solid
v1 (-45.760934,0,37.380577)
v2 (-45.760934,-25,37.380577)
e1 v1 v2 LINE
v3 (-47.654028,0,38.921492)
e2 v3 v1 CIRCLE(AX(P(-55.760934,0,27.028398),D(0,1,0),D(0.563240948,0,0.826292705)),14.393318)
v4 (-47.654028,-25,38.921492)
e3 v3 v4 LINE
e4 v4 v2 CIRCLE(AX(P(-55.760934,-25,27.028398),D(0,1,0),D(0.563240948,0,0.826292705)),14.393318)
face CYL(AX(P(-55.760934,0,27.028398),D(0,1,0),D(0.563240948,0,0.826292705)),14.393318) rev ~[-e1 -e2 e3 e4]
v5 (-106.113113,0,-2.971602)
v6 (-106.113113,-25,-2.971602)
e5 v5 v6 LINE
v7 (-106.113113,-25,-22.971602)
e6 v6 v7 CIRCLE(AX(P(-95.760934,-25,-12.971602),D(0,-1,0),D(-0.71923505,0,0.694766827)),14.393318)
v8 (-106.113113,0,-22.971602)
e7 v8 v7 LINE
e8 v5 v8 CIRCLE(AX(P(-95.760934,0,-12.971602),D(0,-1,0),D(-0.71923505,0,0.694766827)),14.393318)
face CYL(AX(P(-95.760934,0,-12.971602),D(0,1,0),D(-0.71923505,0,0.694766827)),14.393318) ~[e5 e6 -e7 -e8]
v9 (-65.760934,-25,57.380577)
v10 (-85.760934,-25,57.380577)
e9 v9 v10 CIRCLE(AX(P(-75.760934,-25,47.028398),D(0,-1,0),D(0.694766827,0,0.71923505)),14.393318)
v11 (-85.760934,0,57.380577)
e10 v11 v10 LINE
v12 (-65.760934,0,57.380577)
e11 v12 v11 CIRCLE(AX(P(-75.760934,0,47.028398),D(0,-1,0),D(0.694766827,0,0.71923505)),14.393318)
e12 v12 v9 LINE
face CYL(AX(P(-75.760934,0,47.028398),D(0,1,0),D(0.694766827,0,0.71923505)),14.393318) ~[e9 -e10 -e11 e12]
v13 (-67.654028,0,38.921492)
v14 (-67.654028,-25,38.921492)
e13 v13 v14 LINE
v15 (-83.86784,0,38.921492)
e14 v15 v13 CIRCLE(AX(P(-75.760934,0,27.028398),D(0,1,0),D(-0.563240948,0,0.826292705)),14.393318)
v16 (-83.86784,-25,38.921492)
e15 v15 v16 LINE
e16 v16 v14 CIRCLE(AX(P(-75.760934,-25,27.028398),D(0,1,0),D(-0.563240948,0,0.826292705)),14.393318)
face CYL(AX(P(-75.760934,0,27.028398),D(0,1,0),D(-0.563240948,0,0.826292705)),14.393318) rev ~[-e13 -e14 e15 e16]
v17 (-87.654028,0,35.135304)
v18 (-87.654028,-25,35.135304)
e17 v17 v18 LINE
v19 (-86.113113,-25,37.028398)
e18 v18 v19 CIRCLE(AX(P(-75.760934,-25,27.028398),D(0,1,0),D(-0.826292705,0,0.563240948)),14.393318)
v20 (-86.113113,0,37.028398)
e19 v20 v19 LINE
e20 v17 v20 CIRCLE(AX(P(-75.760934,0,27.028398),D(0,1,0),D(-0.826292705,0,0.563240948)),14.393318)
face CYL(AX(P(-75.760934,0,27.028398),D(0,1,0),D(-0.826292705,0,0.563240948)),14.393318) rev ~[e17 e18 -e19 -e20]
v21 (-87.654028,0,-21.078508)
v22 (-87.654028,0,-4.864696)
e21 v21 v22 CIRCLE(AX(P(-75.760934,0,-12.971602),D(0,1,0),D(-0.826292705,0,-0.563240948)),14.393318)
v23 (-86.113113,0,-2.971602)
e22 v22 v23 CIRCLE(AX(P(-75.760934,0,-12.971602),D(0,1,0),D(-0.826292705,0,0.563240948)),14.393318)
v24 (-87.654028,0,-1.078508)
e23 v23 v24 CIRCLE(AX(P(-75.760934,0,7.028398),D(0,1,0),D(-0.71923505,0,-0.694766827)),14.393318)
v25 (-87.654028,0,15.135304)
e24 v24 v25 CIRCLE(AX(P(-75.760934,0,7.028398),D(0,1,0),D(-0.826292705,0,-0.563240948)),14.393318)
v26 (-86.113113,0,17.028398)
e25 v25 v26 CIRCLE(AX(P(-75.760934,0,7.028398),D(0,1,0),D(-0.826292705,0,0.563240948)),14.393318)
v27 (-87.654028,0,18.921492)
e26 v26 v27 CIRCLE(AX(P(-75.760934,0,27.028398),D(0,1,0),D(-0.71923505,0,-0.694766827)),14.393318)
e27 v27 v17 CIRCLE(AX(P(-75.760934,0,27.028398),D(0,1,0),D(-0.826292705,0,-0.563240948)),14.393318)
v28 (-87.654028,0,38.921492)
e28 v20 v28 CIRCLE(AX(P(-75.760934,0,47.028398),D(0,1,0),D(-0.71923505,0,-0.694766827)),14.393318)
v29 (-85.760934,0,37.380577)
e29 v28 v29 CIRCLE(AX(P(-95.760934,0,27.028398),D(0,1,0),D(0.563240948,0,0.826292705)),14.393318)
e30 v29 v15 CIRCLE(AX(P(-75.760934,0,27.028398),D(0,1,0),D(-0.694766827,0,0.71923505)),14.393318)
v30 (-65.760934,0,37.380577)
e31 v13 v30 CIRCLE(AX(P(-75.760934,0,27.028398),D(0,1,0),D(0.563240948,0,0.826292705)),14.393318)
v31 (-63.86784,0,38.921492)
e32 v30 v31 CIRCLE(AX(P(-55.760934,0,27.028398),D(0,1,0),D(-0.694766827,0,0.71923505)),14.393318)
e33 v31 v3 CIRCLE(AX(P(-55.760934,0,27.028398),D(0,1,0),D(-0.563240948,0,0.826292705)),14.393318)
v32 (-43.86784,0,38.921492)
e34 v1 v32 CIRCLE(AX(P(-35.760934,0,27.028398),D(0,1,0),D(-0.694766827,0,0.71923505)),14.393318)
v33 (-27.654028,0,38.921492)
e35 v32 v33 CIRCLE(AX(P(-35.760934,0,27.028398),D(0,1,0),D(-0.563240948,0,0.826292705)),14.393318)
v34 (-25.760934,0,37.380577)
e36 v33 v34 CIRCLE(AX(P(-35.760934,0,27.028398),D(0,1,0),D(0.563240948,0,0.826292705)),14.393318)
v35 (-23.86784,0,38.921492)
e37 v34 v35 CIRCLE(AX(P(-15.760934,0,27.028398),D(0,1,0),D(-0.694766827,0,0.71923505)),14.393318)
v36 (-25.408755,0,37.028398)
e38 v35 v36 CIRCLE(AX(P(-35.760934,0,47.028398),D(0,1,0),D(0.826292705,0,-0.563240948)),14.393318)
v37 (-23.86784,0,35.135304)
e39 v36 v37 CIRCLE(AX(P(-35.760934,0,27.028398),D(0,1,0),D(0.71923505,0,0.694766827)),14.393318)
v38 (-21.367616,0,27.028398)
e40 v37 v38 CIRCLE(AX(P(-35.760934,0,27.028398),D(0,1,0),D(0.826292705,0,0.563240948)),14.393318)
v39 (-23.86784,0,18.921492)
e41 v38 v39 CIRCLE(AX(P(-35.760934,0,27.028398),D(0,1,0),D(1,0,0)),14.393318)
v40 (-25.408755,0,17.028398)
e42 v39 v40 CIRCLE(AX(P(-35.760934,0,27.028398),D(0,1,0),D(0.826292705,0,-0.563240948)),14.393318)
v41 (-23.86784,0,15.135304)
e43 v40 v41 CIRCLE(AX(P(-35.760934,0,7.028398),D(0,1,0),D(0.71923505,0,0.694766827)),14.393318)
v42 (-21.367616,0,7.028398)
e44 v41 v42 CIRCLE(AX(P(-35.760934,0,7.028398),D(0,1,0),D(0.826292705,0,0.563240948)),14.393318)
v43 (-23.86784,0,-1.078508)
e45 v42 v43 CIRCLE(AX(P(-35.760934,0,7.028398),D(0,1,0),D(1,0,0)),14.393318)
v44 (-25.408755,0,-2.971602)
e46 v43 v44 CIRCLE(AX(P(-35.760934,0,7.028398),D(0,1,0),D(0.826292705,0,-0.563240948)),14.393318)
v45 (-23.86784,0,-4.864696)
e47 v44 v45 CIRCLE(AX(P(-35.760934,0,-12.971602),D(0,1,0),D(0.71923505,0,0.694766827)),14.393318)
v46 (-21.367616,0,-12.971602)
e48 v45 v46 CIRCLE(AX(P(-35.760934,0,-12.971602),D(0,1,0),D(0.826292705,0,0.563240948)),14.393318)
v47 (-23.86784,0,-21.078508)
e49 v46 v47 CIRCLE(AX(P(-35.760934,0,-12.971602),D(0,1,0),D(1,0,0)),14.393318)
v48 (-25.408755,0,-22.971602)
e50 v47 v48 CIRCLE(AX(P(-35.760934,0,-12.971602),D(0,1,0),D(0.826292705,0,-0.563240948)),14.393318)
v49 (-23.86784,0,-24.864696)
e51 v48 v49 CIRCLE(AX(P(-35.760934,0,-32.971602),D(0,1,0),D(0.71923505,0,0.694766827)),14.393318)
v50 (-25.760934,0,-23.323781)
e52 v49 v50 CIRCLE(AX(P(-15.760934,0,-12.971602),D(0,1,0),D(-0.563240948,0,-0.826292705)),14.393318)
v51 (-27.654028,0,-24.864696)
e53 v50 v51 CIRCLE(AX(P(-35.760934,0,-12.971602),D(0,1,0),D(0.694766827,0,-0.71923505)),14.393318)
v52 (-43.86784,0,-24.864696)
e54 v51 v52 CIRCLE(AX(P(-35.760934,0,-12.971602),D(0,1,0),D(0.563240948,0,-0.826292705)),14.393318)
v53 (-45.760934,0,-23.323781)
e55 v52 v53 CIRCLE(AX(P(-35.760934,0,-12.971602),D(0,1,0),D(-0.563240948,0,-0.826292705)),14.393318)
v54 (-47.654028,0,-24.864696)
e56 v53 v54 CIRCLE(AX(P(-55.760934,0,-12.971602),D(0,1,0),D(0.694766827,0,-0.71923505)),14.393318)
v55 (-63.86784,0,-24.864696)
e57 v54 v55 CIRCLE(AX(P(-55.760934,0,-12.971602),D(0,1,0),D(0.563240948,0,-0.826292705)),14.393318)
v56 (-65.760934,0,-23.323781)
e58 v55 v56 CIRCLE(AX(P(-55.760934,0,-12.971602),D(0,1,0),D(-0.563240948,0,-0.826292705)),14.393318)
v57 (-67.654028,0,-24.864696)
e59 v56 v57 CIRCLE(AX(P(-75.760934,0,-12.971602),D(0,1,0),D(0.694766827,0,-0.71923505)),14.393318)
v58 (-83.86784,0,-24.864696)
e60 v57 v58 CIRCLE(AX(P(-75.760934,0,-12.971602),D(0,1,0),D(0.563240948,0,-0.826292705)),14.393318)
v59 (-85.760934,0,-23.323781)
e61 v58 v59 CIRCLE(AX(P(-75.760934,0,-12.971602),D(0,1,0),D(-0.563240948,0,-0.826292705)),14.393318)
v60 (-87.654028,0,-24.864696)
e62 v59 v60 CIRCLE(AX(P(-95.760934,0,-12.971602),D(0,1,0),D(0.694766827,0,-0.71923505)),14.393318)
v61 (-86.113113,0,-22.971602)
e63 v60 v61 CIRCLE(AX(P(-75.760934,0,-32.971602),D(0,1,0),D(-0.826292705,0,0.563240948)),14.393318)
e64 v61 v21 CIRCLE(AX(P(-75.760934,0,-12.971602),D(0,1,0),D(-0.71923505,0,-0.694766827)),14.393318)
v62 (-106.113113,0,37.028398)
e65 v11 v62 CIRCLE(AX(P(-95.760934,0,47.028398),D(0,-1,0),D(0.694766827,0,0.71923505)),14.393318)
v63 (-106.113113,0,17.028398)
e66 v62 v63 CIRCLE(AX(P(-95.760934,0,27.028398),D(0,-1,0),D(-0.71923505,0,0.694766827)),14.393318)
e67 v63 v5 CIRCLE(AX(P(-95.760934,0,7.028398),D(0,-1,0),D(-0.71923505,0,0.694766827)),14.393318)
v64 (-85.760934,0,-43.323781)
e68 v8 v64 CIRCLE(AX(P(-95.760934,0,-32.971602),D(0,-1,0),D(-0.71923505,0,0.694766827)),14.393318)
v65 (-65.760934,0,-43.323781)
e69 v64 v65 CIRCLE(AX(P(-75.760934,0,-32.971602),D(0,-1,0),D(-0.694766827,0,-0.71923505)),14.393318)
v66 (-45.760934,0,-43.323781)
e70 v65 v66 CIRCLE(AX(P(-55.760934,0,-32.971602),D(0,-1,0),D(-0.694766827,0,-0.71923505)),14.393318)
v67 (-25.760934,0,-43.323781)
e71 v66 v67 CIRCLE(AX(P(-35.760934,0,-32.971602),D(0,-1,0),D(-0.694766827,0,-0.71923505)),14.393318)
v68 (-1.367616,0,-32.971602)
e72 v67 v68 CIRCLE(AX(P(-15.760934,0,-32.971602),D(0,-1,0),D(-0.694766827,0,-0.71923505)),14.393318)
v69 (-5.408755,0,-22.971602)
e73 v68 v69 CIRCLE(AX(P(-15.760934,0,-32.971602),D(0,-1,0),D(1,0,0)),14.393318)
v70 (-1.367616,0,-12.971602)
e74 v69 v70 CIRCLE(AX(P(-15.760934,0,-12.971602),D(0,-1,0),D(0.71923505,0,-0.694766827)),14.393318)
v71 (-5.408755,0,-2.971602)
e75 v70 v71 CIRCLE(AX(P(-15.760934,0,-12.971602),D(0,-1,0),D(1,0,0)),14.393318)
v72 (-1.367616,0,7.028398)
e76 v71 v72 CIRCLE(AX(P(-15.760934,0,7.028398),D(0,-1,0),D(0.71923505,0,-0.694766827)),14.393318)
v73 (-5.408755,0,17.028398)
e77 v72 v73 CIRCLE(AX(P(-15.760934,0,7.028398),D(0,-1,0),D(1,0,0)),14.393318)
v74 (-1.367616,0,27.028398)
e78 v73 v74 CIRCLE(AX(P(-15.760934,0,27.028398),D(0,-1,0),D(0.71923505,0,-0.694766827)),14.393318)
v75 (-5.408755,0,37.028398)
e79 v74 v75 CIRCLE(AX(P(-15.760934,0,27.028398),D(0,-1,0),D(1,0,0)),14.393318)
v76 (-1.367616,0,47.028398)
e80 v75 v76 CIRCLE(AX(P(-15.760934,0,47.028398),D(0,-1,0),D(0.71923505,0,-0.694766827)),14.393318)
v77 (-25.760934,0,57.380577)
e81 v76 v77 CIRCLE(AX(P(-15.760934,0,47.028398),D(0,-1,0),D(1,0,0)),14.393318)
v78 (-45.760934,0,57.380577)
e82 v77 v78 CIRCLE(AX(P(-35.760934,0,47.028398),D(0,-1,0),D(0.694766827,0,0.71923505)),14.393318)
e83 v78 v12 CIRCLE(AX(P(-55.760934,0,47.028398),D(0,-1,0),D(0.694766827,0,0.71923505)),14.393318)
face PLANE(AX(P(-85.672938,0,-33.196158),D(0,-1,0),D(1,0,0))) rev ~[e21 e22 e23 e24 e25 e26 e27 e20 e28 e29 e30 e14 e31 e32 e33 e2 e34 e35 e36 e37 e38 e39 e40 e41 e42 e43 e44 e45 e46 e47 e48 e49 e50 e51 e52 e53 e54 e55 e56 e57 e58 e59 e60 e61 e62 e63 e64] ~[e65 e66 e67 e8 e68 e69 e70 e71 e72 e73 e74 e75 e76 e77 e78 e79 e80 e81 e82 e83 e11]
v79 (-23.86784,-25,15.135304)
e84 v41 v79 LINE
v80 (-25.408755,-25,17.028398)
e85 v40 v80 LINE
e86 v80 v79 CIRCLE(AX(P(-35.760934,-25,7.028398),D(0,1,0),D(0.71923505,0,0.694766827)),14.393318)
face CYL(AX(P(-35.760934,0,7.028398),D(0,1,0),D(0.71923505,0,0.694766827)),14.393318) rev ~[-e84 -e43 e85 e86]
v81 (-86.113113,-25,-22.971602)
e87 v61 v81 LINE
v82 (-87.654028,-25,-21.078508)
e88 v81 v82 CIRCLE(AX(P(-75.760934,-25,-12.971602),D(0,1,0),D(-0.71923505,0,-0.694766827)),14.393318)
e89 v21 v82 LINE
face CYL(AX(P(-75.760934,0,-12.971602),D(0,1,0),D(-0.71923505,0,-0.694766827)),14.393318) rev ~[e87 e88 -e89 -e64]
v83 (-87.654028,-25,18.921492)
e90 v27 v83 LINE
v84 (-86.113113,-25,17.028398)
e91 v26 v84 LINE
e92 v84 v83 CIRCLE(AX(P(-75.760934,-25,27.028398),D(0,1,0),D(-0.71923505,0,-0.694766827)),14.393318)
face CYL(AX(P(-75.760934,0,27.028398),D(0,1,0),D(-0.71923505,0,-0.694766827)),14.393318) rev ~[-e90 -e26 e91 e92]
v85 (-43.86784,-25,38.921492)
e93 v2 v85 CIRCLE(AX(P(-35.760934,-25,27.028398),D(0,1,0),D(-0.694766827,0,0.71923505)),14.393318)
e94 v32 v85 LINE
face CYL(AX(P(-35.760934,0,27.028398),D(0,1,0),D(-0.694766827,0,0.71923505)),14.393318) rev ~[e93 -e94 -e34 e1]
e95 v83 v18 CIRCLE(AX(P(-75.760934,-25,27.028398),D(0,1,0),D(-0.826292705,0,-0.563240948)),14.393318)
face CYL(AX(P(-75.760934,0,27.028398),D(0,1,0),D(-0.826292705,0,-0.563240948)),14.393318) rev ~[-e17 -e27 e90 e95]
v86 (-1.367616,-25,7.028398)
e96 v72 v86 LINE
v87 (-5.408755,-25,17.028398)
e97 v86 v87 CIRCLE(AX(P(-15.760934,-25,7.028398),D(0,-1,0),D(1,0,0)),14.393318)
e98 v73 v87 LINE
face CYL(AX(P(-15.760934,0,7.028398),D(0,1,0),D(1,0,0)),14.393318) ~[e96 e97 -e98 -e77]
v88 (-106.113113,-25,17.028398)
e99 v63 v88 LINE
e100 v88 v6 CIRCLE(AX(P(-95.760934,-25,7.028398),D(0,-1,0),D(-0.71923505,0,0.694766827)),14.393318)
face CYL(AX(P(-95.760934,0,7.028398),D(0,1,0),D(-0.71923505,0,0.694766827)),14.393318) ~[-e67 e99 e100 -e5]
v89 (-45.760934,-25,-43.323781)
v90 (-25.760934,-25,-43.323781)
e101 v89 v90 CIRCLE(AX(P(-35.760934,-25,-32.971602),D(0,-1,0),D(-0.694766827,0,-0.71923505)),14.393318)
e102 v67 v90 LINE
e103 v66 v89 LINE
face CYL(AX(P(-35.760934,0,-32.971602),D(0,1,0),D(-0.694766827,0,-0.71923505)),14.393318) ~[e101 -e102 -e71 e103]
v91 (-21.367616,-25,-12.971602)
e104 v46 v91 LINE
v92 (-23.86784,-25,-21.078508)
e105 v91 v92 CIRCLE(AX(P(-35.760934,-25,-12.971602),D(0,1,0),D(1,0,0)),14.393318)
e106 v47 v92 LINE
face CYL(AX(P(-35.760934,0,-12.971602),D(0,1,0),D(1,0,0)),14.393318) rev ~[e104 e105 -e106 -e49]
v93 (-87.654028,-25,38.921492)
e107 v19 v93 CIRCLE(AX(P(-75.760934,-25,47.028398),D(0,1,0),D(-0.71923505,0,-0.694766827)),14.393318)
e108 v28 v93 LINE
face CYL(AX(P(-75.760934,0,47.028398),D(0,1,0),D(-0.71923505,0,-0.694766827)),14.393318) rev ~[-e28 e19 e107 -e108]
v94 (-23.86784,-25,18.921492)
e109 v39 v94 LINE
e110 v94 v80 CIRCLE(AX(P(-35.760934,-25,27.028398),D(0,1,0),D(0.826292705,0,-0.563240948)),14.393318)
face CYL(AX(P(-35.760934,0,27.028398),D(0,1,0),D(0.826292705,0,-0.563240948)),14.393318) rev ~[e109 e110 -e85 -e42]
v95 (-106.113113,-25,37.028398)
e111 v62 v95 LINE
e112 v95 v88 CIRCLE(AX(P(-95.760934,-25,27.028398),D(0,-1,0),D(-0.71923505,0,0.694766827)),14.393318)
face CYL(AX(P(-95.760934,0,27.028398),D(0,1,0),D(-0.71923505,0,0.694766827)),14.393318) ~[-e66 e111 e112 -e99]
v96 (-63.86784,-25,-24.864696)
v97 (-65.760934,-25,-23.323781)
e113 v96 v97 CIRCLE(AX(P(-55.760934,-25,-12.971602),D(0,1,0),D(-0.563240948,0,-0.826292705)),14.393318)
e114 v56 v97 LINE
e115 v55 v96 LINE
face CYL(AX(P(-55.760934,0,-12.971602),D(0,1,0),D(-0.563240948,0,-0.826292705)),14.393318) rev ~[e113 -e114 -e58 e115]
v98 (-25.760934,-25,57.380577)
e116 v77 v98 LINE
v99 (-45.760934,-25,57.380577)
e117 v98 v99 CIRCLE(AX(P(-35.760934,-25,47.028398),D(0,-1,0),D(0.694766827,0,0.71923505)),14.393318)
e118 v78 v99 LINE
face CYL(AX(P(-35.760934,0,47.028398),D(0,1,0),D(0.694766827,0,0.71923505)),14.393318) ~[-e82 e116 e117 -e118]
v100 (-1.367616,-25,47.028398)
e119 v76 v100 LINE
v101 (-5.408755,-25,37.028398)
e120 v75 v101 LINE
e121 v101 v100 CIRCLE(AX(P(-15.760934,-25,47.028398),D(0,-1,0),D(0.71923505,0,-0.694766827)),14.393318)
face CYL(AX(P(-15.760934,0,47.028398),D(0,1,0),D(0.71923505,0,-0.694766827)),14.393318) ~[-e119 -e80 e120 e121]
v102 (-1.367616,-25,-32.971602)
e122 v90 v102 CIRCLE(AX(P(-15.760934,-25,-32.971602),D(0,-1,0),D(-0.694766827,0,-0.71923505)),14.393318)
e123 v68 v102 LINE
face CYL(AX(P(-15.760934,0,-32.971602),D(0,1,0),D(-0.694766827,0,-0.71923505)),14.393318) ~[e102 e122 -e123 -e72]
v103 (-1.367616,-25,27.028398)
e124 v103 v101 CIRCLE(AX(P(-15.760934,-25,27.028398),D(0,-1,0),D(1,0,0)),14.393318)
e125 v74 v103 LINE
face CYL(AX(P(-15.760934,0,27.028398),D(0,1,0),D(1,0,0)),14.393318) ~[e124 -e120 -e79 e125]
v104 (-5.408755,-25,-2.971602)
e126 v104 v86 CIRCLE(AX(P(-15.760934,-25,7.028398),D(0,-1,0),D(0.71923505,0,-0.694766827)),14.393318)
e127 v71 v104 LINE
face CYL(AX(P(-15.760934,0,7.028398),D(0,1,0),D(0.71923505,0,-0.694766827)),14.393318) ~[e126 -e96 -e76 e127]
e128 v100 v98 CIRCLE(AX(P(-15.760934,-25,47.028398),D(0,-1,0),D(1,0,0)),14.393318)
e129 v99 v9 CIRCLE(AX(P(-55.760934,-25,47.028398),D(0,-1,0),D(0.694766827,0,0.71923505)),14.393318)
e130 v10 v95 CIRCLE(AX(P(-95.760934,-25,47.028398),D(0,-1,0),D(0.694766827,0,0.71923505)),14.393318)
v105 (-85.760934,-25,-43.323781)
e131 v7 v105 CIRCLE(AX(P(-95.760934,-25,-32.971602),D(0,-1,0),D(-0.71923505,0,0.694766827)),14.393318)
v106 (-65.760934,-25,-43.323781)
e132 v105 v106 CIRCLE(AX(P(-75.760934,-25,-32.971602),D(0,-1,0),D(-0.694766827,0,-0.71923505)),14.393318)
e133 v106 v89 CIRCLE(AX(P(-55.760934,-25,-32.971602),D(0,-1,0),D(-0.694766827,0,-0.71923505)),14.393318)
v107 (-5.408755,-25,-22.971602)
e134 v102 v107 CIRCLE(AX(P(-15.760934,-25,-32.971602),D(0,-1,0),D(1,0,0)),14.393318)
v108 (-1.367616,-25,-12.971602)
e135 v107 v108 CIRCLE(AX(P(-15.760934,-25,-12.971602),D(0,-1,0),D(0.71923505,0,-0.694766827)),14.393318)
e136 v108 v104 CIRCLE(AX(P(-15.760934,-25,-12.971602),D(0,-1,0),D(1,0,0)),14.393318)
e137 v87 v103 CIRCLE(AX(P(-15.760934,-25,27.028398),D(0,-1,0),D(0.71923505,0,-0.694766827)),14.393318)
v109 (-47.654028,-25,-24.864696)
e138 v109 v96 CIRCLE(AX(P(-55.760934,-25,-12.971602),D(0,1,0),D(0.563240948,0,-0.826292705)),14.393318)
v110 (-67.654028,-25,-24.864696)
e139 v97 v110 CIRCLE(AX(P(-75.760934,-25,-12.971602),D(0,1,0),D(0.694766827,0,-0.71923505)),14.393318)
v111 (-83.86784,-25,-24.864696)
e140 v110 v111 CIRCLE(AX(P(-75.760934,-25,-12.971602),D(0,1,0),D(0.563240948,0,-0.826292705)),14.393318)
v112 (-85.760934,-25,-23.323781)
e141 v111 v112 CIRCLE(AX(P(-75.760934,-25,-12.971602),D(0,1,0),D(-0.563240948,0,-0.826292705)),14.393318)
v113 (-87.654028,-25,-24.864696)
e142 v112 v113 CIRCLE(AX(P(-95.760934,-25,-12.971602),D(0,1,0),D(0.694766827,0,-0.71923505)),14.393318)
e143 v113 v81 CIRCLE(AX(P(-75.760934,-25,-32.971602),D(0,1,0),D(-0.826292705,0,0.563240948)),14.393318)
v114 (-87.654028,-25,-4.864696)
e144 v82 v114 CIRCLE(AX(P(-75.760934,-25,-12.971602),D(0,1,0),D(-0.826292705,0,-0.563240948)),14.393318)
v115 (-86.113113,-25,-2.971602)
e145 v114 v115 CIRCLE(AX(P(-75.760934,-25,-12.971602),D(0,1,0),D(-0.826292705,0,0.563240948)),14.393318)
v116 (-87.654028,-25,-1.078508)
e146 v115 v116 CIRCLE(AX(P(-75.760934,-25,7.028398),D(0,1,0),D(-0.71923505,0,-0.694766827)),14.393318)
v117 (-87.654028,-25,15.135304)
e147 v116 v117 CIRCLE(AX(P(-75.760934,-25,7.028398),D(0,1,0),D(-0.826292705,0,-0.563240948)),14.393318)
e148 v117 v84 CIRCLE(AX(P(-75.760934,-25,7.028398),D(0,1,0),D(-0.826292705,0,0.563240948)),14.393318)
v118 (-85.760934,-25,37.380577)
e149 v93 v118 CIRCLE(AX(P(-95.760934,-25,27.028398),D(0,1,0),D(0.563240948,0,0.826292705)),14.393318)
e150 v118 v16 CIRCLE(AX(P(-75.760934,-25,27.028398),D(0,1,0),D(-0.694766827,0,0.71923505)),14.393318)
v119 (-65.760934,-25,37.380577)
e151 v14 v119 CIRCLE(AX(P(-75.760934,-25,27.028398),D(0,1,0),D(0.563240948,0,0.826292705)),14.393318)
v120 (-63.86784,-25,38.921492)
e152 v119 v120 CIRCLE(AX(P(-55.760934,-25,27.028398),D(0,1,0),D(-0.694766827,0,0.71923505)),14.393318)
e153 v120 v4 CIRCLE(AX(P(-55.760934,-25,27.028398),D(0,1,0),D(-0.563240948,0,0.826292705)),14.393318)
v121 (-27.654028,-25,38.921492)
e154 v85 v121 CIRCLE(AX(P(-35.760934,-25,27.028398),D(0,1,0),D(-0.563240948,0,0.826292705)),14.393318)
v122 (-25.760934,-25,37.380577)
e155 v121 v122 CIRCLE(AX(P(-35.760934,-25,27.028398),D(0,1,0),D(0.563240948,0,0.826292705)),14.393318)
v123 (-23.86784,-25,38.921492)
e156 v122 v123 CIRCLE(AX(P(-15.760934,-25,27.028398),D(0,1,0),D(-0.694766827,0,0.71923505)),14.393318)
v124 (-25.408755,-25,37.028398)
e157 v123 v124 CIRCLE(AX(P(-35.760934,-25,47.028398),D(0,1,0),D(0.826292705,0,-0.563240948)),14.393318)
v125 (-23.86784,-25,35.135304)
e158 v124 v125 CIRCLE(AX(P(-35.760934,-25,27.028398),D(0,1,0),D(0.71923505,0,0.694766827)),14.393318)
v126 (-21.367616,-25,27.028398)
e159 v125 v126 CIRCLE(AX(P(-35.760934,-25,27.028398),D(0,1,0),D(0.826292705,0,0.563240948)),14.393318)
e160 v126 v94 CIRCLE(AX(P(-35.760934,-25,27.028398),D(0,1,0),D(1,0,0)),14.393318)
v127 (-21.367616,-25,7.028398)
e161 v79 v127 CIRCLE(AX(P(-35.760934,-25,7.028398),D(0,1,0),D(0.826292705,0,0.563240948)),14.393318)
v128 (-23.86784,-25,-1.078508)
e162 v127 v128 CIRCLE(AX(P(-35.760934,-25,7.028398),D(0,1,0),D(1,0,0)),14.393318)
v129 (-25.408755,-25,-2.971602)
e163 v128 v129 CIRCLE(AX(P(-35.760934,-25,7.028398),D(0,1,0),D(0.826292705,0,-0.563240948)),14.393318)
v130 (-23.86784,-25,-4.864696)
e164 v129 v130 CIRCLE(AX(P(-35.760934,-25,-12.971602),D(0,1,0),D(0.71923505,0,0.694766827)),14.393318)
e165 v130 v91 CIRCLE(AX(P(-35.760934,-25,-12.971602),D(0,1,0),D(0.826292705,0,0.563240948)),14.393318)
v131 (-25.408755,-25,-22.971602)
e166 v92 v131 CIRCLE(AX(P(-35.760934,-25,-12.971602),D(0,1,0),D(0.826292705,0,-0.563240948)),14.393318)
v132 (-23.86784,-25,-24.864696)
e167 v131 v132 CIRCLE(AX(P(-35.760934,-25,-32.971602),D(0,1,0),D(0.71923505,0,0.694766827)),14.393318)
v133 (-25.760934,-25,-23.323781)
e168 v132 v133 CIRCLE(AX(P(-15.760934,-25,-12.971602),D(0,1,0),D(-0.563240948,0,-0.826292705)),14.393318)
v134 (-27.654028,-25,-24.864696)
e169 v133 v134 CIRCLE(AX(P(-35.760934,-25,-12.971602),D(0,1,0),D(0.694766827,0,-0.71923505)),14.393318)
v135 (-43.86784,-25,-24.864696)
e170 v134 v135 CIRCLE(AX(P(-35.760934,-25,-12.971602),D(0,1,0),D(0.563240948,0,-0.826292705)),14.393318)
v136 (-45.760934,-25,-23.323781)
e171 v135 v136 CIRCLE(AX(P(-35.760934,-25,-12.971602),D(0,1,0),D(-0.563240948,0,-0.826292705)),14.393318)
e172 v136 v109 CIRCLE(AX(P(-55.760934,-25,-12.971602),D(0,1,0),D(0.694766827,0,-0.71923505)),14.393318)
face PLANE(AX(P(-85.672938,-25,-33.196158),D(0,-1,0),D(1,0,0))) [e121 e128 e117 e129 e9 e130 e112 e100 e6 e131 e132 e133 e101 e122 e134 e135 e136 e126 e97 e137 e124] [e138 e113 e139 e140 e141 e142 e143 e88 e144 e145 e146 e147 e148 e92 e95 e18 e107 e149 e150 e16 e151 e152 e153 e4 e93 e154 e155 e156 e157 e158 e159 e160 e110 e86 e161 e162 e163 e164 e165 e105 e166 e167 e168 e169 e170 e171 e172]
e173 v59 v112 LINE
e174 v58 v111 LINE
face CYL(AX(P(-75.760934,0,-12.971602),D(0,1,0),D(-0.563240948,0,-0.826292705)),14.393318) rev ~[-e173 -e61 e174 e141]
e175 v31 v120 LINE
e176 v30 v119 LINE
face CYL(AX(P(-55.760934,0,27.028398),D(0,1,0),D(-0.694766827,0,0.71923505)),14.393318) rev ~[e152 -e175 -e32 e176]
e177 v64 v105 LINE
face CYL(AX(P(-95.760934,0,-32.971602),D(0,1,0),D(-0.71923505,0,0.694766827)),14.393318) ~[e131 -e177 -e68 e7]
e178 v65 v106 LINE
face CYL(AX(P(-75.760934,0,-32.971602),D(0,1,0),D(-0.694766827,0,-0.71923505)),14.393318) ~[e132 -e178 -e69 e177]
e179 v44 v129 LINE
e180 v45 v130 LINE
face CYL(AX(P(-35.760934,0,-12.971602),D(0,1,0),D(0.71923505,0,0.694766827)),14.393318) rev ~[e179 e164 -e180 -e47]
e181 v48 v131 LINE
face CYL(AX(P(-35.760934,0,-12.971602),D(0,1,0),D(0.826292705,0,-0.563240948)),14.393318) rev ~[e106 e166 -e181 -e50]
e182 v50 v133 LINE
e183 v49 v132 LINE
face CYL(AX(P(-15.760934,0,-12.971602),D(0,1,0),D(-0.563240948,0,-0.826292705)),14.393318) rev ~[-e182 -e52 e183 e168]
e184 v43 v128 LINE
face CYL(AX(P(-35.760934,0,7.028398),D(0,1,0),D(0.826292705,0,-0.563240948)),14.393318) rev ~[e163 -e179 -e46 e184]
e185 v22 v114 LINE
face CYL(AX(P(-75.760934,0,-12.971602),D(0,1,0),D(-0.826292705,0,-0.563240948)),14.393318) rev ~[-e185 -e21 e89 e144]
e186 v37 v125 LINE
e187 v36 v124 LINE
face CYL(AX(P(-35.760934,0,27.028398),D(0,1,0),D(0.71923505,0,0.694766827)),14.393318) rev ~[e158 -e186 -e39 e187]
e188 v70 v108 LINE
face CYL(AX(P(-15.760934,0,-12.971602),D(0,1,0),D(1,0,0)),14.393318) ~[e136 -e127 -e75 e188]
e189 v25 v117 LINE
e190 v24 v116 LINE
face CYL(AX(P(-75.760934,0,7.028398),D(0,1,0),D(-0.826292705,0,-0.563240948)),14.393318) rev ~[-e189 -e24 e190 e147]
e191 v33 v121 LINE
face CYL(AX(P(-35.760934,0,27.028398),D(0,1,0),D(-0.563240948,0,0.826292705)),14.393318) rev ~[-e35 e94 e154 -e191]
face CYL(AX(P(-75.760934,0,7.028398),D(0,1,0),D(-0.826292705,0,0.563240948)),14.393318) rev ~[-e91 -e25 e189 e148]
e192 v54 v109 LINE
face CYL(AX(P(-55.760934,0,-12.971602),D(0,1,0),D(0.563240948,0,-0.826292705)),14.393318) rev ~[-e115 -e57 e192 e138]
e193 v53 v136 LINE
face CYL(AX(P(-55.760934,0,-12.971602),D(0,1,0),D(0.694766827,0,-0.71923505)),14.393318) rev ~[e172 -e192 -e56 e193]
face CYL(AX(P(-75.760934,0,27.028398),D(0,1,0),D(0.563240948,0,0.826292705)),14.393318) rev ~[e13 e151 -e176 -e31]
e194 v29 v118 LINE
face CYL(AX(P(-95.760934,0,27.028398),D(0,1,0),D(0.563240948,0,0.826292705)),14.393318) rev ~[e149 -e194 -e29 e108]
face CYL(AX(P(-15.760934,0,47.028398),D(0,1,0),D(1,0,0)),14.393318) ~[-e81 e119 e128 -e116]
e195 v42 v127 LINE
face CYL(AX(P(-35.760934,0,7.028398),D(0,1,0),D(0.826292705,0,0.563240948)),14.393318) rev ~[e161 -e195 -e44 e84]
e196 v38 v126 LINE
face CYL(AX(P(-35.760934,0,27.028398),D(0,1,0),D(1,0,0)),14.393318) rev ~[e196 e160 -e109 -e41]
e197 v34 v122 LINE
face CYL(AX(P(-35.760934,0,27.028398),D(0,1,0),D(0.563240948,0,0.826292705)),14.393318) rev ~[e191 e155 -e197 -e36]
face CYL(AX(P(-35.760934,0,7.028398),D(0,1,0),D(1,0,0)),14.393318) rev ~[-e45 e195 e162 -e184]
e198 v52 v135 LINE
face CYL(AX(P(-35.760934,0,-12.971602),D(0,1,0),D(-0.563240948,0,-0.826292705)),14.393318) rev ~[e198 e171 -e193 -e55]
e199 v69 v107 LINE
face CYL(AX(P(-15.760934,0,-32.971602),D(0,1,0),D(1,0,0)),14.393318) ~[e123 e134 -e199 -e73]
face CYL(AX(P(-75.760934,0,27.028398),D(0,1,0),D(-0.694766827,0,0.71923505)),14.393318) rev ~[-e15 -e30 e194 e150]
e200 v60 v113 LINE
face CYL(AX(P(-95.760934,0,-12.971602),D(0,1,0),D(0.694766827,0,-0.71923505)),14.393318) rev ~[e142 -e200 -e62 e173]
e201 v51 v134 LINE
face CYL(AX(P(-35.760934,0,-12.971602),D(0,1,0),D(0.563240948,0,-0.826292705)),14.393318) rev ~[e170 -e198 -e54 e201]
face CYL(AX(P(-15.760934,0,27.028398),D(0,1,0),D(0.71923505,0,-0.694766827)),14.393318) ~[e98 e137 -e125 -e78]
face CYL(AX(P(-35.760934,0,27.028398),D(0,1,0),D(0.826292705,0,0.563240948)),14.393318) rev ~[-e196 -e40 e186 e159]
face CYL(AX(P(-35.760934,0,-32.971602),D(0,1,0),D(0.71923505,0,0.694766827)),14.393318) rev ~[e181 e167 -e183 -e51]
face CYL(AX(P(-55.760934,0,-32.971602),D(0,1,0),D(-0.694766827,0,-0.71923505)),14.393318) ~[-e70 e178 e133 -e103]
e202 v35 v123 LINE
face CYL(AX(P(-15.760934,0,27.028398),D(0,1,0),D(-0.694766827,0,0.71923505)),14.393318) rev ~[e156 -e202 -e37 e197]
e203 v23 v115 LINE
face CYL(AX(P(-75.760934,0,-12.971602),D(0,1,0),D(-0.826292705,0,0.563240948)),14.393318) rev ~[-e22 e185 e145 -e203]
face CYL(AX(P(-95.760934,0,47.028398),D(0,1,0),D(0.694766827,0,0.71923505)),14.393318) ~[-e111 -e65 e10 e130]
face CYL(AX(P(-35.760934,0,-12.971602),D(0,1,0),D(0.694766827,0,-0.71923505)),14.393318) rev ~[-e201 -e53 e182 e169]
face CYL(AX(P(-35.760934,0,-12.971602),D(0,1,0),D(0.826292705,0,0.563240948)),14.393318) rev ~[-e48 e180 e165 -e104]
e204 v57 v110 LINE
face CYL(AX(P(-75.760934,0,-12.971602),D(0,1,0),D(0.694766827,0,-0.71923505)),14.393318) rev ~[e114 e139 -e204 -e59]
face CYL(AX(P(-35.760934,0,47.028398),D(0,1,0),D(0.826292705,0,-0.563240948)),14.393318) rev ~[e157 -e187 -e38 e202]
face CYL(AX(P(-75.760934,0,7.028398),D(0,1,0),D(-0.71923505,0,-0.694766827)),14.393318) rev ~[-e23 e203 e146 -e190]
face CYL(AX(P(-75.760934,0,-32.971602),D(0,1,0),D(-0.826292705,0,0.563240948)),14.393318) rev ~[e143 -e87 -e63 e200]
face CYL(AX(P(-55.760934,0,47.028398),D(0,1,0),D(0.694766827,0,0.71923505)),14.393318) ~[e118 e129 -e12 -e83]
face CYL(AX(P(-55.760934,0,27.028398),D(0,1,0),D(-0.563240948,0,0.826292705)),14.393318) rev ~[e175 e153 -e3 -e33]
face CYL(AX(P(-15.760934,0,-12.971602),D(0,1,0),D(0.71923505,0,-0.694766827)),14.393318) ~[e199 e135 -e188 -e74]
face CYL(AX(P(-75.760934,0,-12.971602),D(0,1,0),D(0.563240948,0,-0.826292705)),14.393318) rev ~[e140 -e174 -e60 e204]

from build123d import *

# Parameters (mm, degrees)
F1_DEPTH = 25


with BuildPart() as f1:
    # F0 (on Front) → F1 (new body)
    with BuildSketch(Plane.XZ):
        with BuildLine():
            ThreePointArc((-85.7609340549, -43.3237808544), (-82.5113908499, -38.594520506), (-81.3676158684, -32.9716019332))
            ThreePointArc((-81.3676158684, -32.9716019332), (-82.0068675294, -28.7297553509), (-83.8678402358, -24.8646957523))
            ThreePointArc((-83.8678402358, -24.8646957523), (-84.8471113337, -24.1344416649), (-85.7609340549, -23.3237808544))
            ThreePointArc((-85.7609340549, -23.3237808544), (-86.674756776, -24.1344416649), (-87.6540278739, -24.8646957523))
            ThreePointArc((-87.6540278739, -24.8646957523), (-90.0791512953, -34.4400240359), (-85.7609340549, -43.3237808544))
        make_face()
        with BuildLine():
            ThreePointArc((-83.8678402358, -24.8646957523), (-82.0068675294, -28.7297553509), (-81.3676158684, -32.9716019332))
            ThreePointArc((-81.3676158684, -32.9716019332), (-82.5113908499, -38.594520506), (-85.7609340549, -43.3237808544))
            ThreePointArc((-85.7609340549, -43.3237808544), (-75.7609340549, -47.3649201197), (-65.7609340549, -43.3237808544))
            ThreePointArc((-65.7609340549, -43.3237808544), (-70.0791512953, -34.4400240359), (-67.6540278739, -24.8646957523))
            ThreePointArc((-67.6540278739, -24.8646957523), (-75.7609340549, -27.3649201197), (-83.8678402358, -24.8646957523))
        make_face()
        with BuildLine():
            ThreePointArc((-106.113112976, -22.9716019332), (-105.9385469482, -43.1492148266), (-85.7609340549, -43.3237808544))
            ThreePointArc((-85.7609340549, -43.3237808544), (-90.0791512953, -34.4400240359), (-87.6540278739, -24.8646957523))
            ThreePointArc((-87.6540278739, -24.8646957523), (-97.2293561575, -27.2898191737), (-106.113112976, -22.9716019332))
        make_face()
        with BuildLine():
            ThreePointArc((-65.7609340549, -23.3237808544), (-66.674756776, -24.1344416649), (-67.6540278739, -24.8646957523))
            ThreePointArc((-67.6540278739, -24.8646957523), (-70.0791512953, -34.4400240359), (-65.7609340549, -43.3237808544))
            ThreePointArc((-65.7609340549, -43.3237808544), (-62.5113908499, -38.594520506), (-61.3676158684, -32.9716019332))
            ThreePointArc((-61.3676158684, -32.9716019332), (-62.0068675294, -28.7297553509), (-63.8678402358, -24.8646957523))
            ThreePointArc((-63.8678402358, -24.8646957523), (-64.8471113337, -24.1344416649), (-65.7609340549, -23.3237808544))
        make_face()
        with BuildLine():
            ThreePointArc((-106.113112976, -2.9716019332), (-110.1542522413, -12.9716019332), (-106.113112976, -22.9716019332))
            ThreePointArc((-106.113112976, -22.9716019332), (-97.2293561575, -18.6533846928), (-87.6540278739, -21.0785081142))
            ThreePointArc((-87.6540278739, -21.0785081142), (-90.1542522413, -12.9716019332), (-87.6540278739, -4.8646957523))
            ThreePointArc((-87.6540278739, -4.8646957523), (-97.2293561575, -7.2898191737), (-106.113112976, -2.9716019332))
        make_face()
        with BuildLine():
            ThreePointArc((-87.6540278739, -21.0785081142), (-97.2293561575, -18.6533846928), (-106.113112976, -22.9716019332))
            ThreePointArc((-106.113112976, -22.9716019332), (-97.2293561575, -27.2898191737), (-87.6540278739, -24.8646957523))
            ThreePointArc((-87.6540278739, -24.8646957523), (-86.9237737865, -23.8854246544), (-86.113112976, -22.9716019332))
            ThreePointArc((-86.113112976, -22.9716019332), (-86.9237737865, -22.057779212), (-87.6540278739, -21.0785081142))
        make_face()
        with BuildLine():
            ThreePointArc((-61.3676158684, -32.9716019332), (-62.5113908499, -38.594520506), (-65.7609340549, -43.3237808544))
            ThreePointArc((-65.7609340549, -43.3237808544), (-55.7609340549, -47.3649201197), (-45.7609340549, -43.3237808544))
            ThreePointArc((-45.7609340549, -43.3237808544), (-50.0791512953, -34.4400240359), (-47.6540278739, -24.8646957523))
            ThreePointArc((-47.6540278739, -24.8646957523), (-55.7609340549, -27.3649201197), (-63.8678402358, -24.8646957523))
            ThreePointArc((-63.8678402358, -24.8646957523), (-62.0068675294, -28.7297553509), (-61.3676158684, -32.9716019332))
        make_face()
        with BuildLine():
            ThreePointArc((-106.113112976, 17.0283980668), (-110.1542522413, 7.0283980668), (-106.113112976, -2.9716019332))
            ThreePointArc((-106.113112976, -2.9716019332), (-97.2293561575, 1.3466153072), (-87.6540278739, -1.0785081142))
            ThreePointArc((-87.6540278739, -1.0785081142), (-90.1542522413, 7.0283980668), (-87.6540278739, 15.1353042477))
            ThreePointArc((-87.6540278739, 15.1353042477), (-97.2293561575, 12.7101808263), (-106.113112976, 17.0283980668))
        make_face()
        with BuildLine():
            ThreePointArc((-87.6540278739, -1.0785081142), (-97.2293561575, 1.3466153072), (-106.113112976, -2.9716019332))
            ThreePointArc((-106.113112976, -2.9716019332), (-97.2293561575, -7.2898191737), (-87.6540278739, -4.8646957523))
            ThreePointArc((-87.6540278739, -4.8646957523), (-86.9237737865, -3.8854246544), (-86.113112976, -2.9716019332))
            ThreePointArc((-86.113112976, -2.9716019332), (-86.9237737865, -2.057779212), (-87.6540278739, -1.0785081142))
        make_face()
        with BuildLine():
            ThreePointArc((-47.6540278739, -24.8646957523), (-50.0791512953, -34.4400240359), (-45.7609340549, -43.3237808544))
            ThreePointArc((-45.7609340549, -43.3237808544), (-42.5113908499, -38.594520506), (-41.3676158684, -32.9716019332))
            ThreePointArc((-41.3676158684, -32.9716019332), (-42.0068675294, -28.7297553509), (-43.8678402358, -24.8646957523))
            ThreePointArc((-43.8678402358, -24.8646957523), (-44.8471113337, -24.1344416649), (-45.7609340549, -23.3237808544))
            ThreePointArc((-45.7609340549, -23.3237808544), (-46.674756776, -24.1344416649), (-47.6540278739, -24.8646957523))
        make_face()
        with BuildLine():
            ThreePointArc((-41.3676158684, -32.9716019332), (-42.5113908499, -38.594520506), (-45.7609340549, -43.3237808544))
            ThreePointArc((-45.7609340549, -43.3237808544), (-35.7609340549, -47.3649201197), (-25.7609340549, -43.3237808544))
            ThreePointArc((-25.7609340549, -43.3237808544), (-30.0791512953, -34.4400240359), (-27.6540278739, -24.8646957523))
            ThreePointArc((-27.6540278739, -24.8646957523), (-35.7609340549, -27.3649201197), (-43.8678402358, -24.8646957523))
            ThreePointArc((-43.8678402358, -24.8646957523), (-42.0068675294, -28.7297553509), (-41.3676158684, -32.9716019332))
        make_face()
        with BuildLine():
            ThreePointArc((-106.113112976, 37.0283980668), (-110.1542522413, 27.0283980668), (-106.113112976, 17.0283980668))
            ThreePointArc((-106.113112976, 17.0283980668), (-97.2293561575, 21.3466153072), (-87.6540278739, 18.9214918858))
            ThreePointArc((-87.6540278739, 18.9214918858), (-90.1542522413, 27.0283980668), (-87.6540278739, 35.1353042477))
            ThreePointArc((-87.6540278739, 35.1353042477), (-97.2293561575, 32.7101808263), (-106.113112976, 37.0283980668))
        make_face()
        with BuildLine():
            ThreePointArc((-87.6540278739, 18.9214918858), (-97.2293561575, 21.3466153072), (-106.113112976, 17.0283980668))
            ThreePointArc((-106.113112976, 17.0283980668), (-97.2293561575, 12.7101808263), (-87.6540278739, 15.1353042477))
            ThreePointArc((-87.6540278739, 15.1353042477), (-86.9237737865, 16.1145753456), (-86.113112976, 17.0283980668))
            ThreePointArc((-86.113112976, 17.0283980668), (-86.9237737865, 17.942220788), (-87.6540278739, 18.9214918858))
        make_face()
        with BuildLine():
            ThreePointArc((-27.6540278739, -24.8646957523), (-30.0791512953, -34.4400240359), (-25.7609340549, -43.3237808544))
            ThreePointArc((-25.7609340549, -43.3237808544), (-22.5113908499, -38.594520506), (-21.3676158684, -32.9716019332))
            ThreePointArc((-21.3676158684, -32.9716019332), (-22.0068675294, -28.7297553509), (-23.8678402358, -24.8646957523))
            ThreePointArc((-23.8678402358, -24.8646957523), (-24.8471113337, -24.1344416649), (-25.7609340549, -23.3237808544))
            ThreePointArc((-25.7609340549, -23.3237808544), (-26.674756776, -24.1344416649), (-27.6540278739, -24.8646957523))
        make_face()
        with BuildLine():
            ThreePointArc((-21.3676158684, -32.9716019332), (-22.5113908499, -38.594520506), (-25.7609340549, -43.3237808544))
            ThreePointArc((-25.7609340549, -43.3237808544), (-10.1380154821, -46.2211451382), (-1.3676158684, -32.9716019332))
            ThreePointArc((-1.3676158684, -32.9716019332), (-2.4160883542, -27.5787639382), (-5.4087551337, -22.9716019332))
            ThreePointArc((-5.4087551337, -22.9716019332), (-14.2925119522, -27.2898191737), (-23.8678402358, -24.8646957523))
            ThreePointArc((-23.8678402358, -24.8646957523), (-22.0068675294, -28.7297553509), (-21.3676158684, -32.9716019332))
        make_face()
        with BuildLine():
            ThreePointArc((-85.7609340549, 57.3805769879), (-105.9385469482, 57.2060109602), (-106.113112976, 37.0283980668))
            ThreePointArc((-106.113112976, 37.0283980668), (-97.2293561575, 41.3466153072), (-87.6540278739, 38.9214918858))
            ThreePointArc((-87.6540278739, 38.9214918858), (-90.0791512953, 48.4968201694), (-85.7609340549, 57.3805769879))
        make_face()
        with BuildLine():
            ThreePointArc((-87.6540278739, 38.9214918858), (-97.2293561575, 41.3466153072), (-106.113112976, 37.0283980668))
            ThreePointArc((-106.113112976, 37.0283980668), (-97.2293561575, 32.7101808263), (-87.6540278739, 35.1353042477))
            ThreePointArc((-87.6540278739, 35.1353042477), (-86.9237737865, 36.1145753456), (-86.113112976, 37.0283980668))
            ThreePointArc((-86.113112976, 37.0283980668), (-86.9237737865, 37.942220788), (-87.6540278739, 38.9214918858))
        make_face()
        with BuildLine():
            ThreePointArc((-85.7609340549, 57.3805769879), (-90.0791512953, 48.4968201694), (-87.6540278739, 38.9214918858))
            ThreePointArc((-87.6540278739, 38.9214918858), (-86.674756776, 38.1912377984), (-85.7609340549, 37.3805769879))
            ThreePointArc((-85.7609340549, 37.3805769879), (-84.8471113337, 38.1912377984), (-83.8678402358, 38.9214918858))
            ThreePointArc((-83.8678402358, 38.9214918858), (-82.0068675294, 42.7865514844), (-81.3676158684, 47.0283980668))
            ThreePointArc((-81.3676158684, 47.0283980668), (-82.5113908499, 52.6513166395), (-85.7609340549, 57.3805769879))
        make_face()
        with BuildLine():
            ThreePointArc((-65.7609340549, 57.3805769879), (-75.7609340549, 61.4217162532), (-85.7609340549, 57.3805769879))
            ThreePointArc((-85.7609340549, 57.3805769879), (-82.5113908499, 52.6513166395), (-81.3676158684, 47.0283980668))
            ThreePointArc((-81.3676158684, 47.0283980668), (-82.0068675294, 42.7865514844), (-83.8678402358, 38.9214918858))
            ThreePointArc((-83.8678402358, 38.9214918858), (-75.7609340549, 41.4217162532), (-67.6540278739, 38.9214918858))
            ThreePointArc((-67.6540278739, 38.9214918858), (-70.0791512953, 48.4968201694), (-65.7609340549, 57.3805769879))
        make_face()
        with BuildLine():
            ThreePointArc((-25.4087551337, -22.9716019332), (-24.5980943232, -23.8854246544), (-23.8678402358, -24.8646957523))
            ThreePointArc((-23.8678402358, -24.8646957523), (-14.2925119522, -27.2898191737), (-5.4087551337, -22.9716019332))
            ThreePointArc((-5.4087551337, -22.9716019332), (-14.2925119522, -18.6533846928), (-23.8678402358, -21.0785081142))
            ThreePointArc((-23.8678402358, -21.0785081142), (-24.5980943232, -22.057779212), (-25.4087551337, -22.9716019332))
        make_face()
        with BuildLine():
            ThreePointArc((-23.8678402358, -21.0785081142), (-14.2925119522, -18.6533846928), (-5.4087551337, -22.9716019332))
            ThreePointArc((-5.4087551337, -22.9716019332), (-2.4160883542, -18.3644399282), (-1.3676158684, -12.9716019332))
            ThreePointArc((-1.3676158684, -12.9716019332), (-2.4160883542, -7.5787639382), (-5.4087551337, -2.9716019332))
            ThreePointArc((-5.4087551337, -2.9716019332), (-14.2925119522, -7.2898191737), (-23.8678402358, -4.8646957523))
            ThreePointArc((-23.8678402358, -4.8646957523), (-22.0068675294, -8.7297553509), (-21.3676158684, -12.9716019332))
            ThreePointArc((-21.3676158684, -12.9716019332), (-22.0068675294, -17.2134485156), (-23.8678402358, -21.0785081142))
        make_face()
        with BuildLine():
            ThreePointArc((-45.7609340549, 57.3805769879), (-55.7609340549, 61.4217162532), (-65.7609340549, 57.3805769879))
            ThreePointArc((-65.7609340549, 57.3805769879), (-62.5113908499, 52.6513166395), (-61.3676158684, 47.0283980668))
            ThreePointArc((-61.3676158684, 47.0283980668), (-62.0068675294, 42.7865514844), (-63.8678402358, 38.9214918858))
            ThreePointArc((-63.8678402358, 38.9214918858), (-55.7609340549, 41.4217162532), (-47.6540278739, 38.9214918858))
            ThreePointArc((-47.6540278739, 38.9214918858), (-50.0791512953, 48.4968201694), (-45.7609340549, 57.3805769879))
        make_face()
        with BuildLine():
            ThreePointArc((-61.3676158684, 47.0283980668), (-62.5113908499, 52.6513166395), (-65.7609340549, 57.3805769879))
            ThreePointArc((-65.7609340549, 57.3805769879), (-70.0791512953, 48.4968201694), (-67.6540278739, 38.9214918858))
            ThreePointArc((-67.6540278739, 38.9214918858), (-66.674756776, 38.1912377984), (-65.7609340549, 37.3805769879))
            ThreePointArc((-65.7609340549, 37.3805769879), (-64.8471113337, 38.1912377984), (-63.8678402358, 38.9214918858))
            ThreePointArc((-63.8678402358, 38.9214918858), (-62.0068675294, 42.7865514844), (-61.3676158684, 47.0283980668))
        make_face()
        with BuildLine():
            ThreePointArc((-25.7609340549, 57.3805769879), (-35.7609340549, 61.4217162532), (-45.7609340549, 57.3805769879))
            ThreePointArc((-45.7609340549, 57.3805769879), (-42.5113908499, 52.6513166395), (-41.3676158684, 47.0283980668))
            ThreePointArc((-41.3676158684, 47.0283980668), (-42.0068675294, 42.7865514844), (-43.8678402358, 38.9214918858))
            ThreePointArc((-43.8678402358, 38.9214918858), (-35.7609340549, 41.4217162532), (-27.6540278739, 38.9214918858))
            ThreePointArc((-27.6540278739, 38.9214918858), (-30.0791512953, 48.4968201694), (-25.7609340549, 57.3805769879))
        make_face()
        with BuildLine():
            ThreePointArc((-41.3676158684, 47.0283980668), (-42.5113908499, 52.6513166395), (-45.7609340549, 57.3805769879))
            ThreePointArc((-45.7609340549, 57.3805769879), (-50.0791512953, 48.4968201694), (-47.6540278739, 38.9214918858))
            ThreePointArc((-47.6540278739, 38.9214918858), (-46.674756776, 38.1912377984), (-45.7609340549, 37.3805769879))
            ThreePointArc((-45.7609340549, 37.3805769879), (-44.8471113337, 38.1912377984), (-43.8678402358, 38.9214918858))
            ThreePointArc((-43.8678402358, 38.9214918858), (-42.0068675294, 42.7865514844), (-41.3676158684, 47.0283980668))
        make_face()
        with BuildLine():
            ThreePointArc((-23.8678402358, -4.8646957523), (-14.2925119522, -7.2898191737), (-5.4087551337, -2.9716019332))
            ThreePointArc((-5.4087551337, -2.9716019332), (-14.2925119522, 1.3466153072), (-23.8678402358, -1.0785081142))
            ThreePointArc((-23.8678402358, -1.0785081142), (-24.5980943232, -2.057779212), (-25.4087551337, -2.9716019332))
            ThreePointArc((-25.4087551337, -2.9716019332), (-24.5980943232, -3.8854246544), (-23.8678402358, -4.8646957523))
        make_face()
        with BuildLine():
            ThreePointArc((-23.8678402358, -1.0785081142), (-14.2925119522, 1.3466153072), (-5.4087551337, -2.9716019332))
            ThreePointArc((-5.4087551337, -2.9716019332), (-2.4160883542, 1.6355600718), (-1.3676158684, 7.0283980668))
            ThreePointArc((-1.3676158684, 7.0283980668), (-2.4160883542, 12.4212360618), (-5.4087551337, 17.0283980668))
            ThreePointArc((-5.4087551337, 17.0283980668), (-14.2925119522, 12.7101808263), (-23.8678402358, 15.1353042477))
            ThreePointArc((-23.8678402358, 15.1353042477), (-22.0068675294, 11.2702446491), (-21.3676158684, 7.0283980668))
            ThreePointArc((-21.3676158684, 7.0283980668), (-22.0068675294, 2.7865514844), (-23.8678402358, -1.0785081142))
        make_face()
        with BuildLine():
            ThreePointArc((-1.3676158684, 47.0283980668), (-10.1380154821, 60.2779412717), (-25.7609340549, 57.3805769879))
            ThreePointArc((-25.7609340549, 57.3805769879), (-22.5113908499, 52.6513166395), (-21.3676158684, 47.0283980668))
            ThreePointArc((-21.3676158684, 47.0283980668), (-22.0068675294, 42.7865514844), (-23.8678402358, 38.9214918858))
            ThreePointArc((-23.8678402358, 38.9214918858), (-14.2925119522, 41.3466153072), (-5.4087551337, 37.0283980668))
            ThreePointArc((-5.4087551337, 37.0283980668), (-2.4160883542, 41.6355600718), (-1.3676158684, 47.0283980668))
        make_face()
        with BuildLine():
            ThreePointArc((-21.3676158684, 47.0283980668), (-22.5113908499, 52.6513166395), (-25.7609340549, 57.3805769879))
            ThreePointArc((-25.7609340549, 57.3805769879), (-30.0791512953, 48.4968201694), (-27.6540278739, 38.9214918858))
            ThreePointArc((-27.6540278739, 38.9214918858), (-26.674756776, 38.1912377984), (-25.7609340549, 37.3805769879))
            ThreePointArc((-25.7609340549, 37.3805769879), (-24.8471113337, 38.1912377984), (-23.8678402358, 38.9214918858))
            ThreePointArc((-23.8678402358, 38.9214918858), (-22.0068675294, 42.7865514844), (-21.3676158684, 47.0283980668))
        make_face()
        with BuildLine():
            ThreePointArc((-23.8678402358, 15.1353042477), (-14.2925119522, 12.7101808263), (-5.4087551337, 17.0283980668))
            ThreePointArc((-5.4087551337, 17.0283980668), (-14.2925119522, 21.3466153072), (-23.8678402358, 18.9214918858))
            ThreePointArc((-23.8678402358, 18.9214918858), (-24.5980943232, 17.942220788), (-25.4087551337, 17.0283980668))
            ThreePointArc((-25.4087551337, 17.0283980668), (-24.5980943232, 16.1145753456), (-23.8678402358, 15.1353042477))
        make_face()
        with BuildLine():
            ThreePointArc((-23.8678402358, 18.9214918858), (-14.2925119522, 21.3466153072), (-5.4087551337, 17.0283980668))
            ThreePointArc((-5.4087551337, 17.0283980668), (-2.4160883542, 21.6355600718), (-1.3676158684, 27.0283980668))
            ThreePointArc((-1.3676158684, 27.0283980668), (-2.4160883542, 32.4212360618), (-5.4087551337, 37.0283980668))
            ThreePointArc((-5.4087551337, 37.0283980668), (-14.2925119522, 32.7101808263), (-23.8678402358, 35.1353042477))
            ThreePointArc((-23.8678402358, 35.1353042477), (-22.0068675294, 31.2702446491), (-21.3676158684, 27.0283980668))
            ThreePointArc((-21.3676158684, 27.0283980668), (-22.0068675294, 22.7865514844), (-23.8678402358, 18.9214918858))
        make_face()
        with BuildLine():
            ThreePointArc((-5.4087551337, 37.0283980668), (-14.2925119522, 41.3466153072), (-23.8678402358, 38.9214918858))
            ThreePointArc((-23.8678402358, 38.9214918858), (-24.5980943232, 37.942220788), (-25.4087551337, 37.0283980668))
            ThreePointArc((-25.4087551337, 37.0283980668), (-24.5980943232, 36.1145753456), (-23.8678402358, 35.1353042477))
            ThreePointArc((-23.8678402358, 35.1353042477), (-14.2925119522, 32.7101808263), (-5.4087551337, 37.0283980668))
        make_face()
    extrude(amount=F1_DEPTH)


solid = f1.part
